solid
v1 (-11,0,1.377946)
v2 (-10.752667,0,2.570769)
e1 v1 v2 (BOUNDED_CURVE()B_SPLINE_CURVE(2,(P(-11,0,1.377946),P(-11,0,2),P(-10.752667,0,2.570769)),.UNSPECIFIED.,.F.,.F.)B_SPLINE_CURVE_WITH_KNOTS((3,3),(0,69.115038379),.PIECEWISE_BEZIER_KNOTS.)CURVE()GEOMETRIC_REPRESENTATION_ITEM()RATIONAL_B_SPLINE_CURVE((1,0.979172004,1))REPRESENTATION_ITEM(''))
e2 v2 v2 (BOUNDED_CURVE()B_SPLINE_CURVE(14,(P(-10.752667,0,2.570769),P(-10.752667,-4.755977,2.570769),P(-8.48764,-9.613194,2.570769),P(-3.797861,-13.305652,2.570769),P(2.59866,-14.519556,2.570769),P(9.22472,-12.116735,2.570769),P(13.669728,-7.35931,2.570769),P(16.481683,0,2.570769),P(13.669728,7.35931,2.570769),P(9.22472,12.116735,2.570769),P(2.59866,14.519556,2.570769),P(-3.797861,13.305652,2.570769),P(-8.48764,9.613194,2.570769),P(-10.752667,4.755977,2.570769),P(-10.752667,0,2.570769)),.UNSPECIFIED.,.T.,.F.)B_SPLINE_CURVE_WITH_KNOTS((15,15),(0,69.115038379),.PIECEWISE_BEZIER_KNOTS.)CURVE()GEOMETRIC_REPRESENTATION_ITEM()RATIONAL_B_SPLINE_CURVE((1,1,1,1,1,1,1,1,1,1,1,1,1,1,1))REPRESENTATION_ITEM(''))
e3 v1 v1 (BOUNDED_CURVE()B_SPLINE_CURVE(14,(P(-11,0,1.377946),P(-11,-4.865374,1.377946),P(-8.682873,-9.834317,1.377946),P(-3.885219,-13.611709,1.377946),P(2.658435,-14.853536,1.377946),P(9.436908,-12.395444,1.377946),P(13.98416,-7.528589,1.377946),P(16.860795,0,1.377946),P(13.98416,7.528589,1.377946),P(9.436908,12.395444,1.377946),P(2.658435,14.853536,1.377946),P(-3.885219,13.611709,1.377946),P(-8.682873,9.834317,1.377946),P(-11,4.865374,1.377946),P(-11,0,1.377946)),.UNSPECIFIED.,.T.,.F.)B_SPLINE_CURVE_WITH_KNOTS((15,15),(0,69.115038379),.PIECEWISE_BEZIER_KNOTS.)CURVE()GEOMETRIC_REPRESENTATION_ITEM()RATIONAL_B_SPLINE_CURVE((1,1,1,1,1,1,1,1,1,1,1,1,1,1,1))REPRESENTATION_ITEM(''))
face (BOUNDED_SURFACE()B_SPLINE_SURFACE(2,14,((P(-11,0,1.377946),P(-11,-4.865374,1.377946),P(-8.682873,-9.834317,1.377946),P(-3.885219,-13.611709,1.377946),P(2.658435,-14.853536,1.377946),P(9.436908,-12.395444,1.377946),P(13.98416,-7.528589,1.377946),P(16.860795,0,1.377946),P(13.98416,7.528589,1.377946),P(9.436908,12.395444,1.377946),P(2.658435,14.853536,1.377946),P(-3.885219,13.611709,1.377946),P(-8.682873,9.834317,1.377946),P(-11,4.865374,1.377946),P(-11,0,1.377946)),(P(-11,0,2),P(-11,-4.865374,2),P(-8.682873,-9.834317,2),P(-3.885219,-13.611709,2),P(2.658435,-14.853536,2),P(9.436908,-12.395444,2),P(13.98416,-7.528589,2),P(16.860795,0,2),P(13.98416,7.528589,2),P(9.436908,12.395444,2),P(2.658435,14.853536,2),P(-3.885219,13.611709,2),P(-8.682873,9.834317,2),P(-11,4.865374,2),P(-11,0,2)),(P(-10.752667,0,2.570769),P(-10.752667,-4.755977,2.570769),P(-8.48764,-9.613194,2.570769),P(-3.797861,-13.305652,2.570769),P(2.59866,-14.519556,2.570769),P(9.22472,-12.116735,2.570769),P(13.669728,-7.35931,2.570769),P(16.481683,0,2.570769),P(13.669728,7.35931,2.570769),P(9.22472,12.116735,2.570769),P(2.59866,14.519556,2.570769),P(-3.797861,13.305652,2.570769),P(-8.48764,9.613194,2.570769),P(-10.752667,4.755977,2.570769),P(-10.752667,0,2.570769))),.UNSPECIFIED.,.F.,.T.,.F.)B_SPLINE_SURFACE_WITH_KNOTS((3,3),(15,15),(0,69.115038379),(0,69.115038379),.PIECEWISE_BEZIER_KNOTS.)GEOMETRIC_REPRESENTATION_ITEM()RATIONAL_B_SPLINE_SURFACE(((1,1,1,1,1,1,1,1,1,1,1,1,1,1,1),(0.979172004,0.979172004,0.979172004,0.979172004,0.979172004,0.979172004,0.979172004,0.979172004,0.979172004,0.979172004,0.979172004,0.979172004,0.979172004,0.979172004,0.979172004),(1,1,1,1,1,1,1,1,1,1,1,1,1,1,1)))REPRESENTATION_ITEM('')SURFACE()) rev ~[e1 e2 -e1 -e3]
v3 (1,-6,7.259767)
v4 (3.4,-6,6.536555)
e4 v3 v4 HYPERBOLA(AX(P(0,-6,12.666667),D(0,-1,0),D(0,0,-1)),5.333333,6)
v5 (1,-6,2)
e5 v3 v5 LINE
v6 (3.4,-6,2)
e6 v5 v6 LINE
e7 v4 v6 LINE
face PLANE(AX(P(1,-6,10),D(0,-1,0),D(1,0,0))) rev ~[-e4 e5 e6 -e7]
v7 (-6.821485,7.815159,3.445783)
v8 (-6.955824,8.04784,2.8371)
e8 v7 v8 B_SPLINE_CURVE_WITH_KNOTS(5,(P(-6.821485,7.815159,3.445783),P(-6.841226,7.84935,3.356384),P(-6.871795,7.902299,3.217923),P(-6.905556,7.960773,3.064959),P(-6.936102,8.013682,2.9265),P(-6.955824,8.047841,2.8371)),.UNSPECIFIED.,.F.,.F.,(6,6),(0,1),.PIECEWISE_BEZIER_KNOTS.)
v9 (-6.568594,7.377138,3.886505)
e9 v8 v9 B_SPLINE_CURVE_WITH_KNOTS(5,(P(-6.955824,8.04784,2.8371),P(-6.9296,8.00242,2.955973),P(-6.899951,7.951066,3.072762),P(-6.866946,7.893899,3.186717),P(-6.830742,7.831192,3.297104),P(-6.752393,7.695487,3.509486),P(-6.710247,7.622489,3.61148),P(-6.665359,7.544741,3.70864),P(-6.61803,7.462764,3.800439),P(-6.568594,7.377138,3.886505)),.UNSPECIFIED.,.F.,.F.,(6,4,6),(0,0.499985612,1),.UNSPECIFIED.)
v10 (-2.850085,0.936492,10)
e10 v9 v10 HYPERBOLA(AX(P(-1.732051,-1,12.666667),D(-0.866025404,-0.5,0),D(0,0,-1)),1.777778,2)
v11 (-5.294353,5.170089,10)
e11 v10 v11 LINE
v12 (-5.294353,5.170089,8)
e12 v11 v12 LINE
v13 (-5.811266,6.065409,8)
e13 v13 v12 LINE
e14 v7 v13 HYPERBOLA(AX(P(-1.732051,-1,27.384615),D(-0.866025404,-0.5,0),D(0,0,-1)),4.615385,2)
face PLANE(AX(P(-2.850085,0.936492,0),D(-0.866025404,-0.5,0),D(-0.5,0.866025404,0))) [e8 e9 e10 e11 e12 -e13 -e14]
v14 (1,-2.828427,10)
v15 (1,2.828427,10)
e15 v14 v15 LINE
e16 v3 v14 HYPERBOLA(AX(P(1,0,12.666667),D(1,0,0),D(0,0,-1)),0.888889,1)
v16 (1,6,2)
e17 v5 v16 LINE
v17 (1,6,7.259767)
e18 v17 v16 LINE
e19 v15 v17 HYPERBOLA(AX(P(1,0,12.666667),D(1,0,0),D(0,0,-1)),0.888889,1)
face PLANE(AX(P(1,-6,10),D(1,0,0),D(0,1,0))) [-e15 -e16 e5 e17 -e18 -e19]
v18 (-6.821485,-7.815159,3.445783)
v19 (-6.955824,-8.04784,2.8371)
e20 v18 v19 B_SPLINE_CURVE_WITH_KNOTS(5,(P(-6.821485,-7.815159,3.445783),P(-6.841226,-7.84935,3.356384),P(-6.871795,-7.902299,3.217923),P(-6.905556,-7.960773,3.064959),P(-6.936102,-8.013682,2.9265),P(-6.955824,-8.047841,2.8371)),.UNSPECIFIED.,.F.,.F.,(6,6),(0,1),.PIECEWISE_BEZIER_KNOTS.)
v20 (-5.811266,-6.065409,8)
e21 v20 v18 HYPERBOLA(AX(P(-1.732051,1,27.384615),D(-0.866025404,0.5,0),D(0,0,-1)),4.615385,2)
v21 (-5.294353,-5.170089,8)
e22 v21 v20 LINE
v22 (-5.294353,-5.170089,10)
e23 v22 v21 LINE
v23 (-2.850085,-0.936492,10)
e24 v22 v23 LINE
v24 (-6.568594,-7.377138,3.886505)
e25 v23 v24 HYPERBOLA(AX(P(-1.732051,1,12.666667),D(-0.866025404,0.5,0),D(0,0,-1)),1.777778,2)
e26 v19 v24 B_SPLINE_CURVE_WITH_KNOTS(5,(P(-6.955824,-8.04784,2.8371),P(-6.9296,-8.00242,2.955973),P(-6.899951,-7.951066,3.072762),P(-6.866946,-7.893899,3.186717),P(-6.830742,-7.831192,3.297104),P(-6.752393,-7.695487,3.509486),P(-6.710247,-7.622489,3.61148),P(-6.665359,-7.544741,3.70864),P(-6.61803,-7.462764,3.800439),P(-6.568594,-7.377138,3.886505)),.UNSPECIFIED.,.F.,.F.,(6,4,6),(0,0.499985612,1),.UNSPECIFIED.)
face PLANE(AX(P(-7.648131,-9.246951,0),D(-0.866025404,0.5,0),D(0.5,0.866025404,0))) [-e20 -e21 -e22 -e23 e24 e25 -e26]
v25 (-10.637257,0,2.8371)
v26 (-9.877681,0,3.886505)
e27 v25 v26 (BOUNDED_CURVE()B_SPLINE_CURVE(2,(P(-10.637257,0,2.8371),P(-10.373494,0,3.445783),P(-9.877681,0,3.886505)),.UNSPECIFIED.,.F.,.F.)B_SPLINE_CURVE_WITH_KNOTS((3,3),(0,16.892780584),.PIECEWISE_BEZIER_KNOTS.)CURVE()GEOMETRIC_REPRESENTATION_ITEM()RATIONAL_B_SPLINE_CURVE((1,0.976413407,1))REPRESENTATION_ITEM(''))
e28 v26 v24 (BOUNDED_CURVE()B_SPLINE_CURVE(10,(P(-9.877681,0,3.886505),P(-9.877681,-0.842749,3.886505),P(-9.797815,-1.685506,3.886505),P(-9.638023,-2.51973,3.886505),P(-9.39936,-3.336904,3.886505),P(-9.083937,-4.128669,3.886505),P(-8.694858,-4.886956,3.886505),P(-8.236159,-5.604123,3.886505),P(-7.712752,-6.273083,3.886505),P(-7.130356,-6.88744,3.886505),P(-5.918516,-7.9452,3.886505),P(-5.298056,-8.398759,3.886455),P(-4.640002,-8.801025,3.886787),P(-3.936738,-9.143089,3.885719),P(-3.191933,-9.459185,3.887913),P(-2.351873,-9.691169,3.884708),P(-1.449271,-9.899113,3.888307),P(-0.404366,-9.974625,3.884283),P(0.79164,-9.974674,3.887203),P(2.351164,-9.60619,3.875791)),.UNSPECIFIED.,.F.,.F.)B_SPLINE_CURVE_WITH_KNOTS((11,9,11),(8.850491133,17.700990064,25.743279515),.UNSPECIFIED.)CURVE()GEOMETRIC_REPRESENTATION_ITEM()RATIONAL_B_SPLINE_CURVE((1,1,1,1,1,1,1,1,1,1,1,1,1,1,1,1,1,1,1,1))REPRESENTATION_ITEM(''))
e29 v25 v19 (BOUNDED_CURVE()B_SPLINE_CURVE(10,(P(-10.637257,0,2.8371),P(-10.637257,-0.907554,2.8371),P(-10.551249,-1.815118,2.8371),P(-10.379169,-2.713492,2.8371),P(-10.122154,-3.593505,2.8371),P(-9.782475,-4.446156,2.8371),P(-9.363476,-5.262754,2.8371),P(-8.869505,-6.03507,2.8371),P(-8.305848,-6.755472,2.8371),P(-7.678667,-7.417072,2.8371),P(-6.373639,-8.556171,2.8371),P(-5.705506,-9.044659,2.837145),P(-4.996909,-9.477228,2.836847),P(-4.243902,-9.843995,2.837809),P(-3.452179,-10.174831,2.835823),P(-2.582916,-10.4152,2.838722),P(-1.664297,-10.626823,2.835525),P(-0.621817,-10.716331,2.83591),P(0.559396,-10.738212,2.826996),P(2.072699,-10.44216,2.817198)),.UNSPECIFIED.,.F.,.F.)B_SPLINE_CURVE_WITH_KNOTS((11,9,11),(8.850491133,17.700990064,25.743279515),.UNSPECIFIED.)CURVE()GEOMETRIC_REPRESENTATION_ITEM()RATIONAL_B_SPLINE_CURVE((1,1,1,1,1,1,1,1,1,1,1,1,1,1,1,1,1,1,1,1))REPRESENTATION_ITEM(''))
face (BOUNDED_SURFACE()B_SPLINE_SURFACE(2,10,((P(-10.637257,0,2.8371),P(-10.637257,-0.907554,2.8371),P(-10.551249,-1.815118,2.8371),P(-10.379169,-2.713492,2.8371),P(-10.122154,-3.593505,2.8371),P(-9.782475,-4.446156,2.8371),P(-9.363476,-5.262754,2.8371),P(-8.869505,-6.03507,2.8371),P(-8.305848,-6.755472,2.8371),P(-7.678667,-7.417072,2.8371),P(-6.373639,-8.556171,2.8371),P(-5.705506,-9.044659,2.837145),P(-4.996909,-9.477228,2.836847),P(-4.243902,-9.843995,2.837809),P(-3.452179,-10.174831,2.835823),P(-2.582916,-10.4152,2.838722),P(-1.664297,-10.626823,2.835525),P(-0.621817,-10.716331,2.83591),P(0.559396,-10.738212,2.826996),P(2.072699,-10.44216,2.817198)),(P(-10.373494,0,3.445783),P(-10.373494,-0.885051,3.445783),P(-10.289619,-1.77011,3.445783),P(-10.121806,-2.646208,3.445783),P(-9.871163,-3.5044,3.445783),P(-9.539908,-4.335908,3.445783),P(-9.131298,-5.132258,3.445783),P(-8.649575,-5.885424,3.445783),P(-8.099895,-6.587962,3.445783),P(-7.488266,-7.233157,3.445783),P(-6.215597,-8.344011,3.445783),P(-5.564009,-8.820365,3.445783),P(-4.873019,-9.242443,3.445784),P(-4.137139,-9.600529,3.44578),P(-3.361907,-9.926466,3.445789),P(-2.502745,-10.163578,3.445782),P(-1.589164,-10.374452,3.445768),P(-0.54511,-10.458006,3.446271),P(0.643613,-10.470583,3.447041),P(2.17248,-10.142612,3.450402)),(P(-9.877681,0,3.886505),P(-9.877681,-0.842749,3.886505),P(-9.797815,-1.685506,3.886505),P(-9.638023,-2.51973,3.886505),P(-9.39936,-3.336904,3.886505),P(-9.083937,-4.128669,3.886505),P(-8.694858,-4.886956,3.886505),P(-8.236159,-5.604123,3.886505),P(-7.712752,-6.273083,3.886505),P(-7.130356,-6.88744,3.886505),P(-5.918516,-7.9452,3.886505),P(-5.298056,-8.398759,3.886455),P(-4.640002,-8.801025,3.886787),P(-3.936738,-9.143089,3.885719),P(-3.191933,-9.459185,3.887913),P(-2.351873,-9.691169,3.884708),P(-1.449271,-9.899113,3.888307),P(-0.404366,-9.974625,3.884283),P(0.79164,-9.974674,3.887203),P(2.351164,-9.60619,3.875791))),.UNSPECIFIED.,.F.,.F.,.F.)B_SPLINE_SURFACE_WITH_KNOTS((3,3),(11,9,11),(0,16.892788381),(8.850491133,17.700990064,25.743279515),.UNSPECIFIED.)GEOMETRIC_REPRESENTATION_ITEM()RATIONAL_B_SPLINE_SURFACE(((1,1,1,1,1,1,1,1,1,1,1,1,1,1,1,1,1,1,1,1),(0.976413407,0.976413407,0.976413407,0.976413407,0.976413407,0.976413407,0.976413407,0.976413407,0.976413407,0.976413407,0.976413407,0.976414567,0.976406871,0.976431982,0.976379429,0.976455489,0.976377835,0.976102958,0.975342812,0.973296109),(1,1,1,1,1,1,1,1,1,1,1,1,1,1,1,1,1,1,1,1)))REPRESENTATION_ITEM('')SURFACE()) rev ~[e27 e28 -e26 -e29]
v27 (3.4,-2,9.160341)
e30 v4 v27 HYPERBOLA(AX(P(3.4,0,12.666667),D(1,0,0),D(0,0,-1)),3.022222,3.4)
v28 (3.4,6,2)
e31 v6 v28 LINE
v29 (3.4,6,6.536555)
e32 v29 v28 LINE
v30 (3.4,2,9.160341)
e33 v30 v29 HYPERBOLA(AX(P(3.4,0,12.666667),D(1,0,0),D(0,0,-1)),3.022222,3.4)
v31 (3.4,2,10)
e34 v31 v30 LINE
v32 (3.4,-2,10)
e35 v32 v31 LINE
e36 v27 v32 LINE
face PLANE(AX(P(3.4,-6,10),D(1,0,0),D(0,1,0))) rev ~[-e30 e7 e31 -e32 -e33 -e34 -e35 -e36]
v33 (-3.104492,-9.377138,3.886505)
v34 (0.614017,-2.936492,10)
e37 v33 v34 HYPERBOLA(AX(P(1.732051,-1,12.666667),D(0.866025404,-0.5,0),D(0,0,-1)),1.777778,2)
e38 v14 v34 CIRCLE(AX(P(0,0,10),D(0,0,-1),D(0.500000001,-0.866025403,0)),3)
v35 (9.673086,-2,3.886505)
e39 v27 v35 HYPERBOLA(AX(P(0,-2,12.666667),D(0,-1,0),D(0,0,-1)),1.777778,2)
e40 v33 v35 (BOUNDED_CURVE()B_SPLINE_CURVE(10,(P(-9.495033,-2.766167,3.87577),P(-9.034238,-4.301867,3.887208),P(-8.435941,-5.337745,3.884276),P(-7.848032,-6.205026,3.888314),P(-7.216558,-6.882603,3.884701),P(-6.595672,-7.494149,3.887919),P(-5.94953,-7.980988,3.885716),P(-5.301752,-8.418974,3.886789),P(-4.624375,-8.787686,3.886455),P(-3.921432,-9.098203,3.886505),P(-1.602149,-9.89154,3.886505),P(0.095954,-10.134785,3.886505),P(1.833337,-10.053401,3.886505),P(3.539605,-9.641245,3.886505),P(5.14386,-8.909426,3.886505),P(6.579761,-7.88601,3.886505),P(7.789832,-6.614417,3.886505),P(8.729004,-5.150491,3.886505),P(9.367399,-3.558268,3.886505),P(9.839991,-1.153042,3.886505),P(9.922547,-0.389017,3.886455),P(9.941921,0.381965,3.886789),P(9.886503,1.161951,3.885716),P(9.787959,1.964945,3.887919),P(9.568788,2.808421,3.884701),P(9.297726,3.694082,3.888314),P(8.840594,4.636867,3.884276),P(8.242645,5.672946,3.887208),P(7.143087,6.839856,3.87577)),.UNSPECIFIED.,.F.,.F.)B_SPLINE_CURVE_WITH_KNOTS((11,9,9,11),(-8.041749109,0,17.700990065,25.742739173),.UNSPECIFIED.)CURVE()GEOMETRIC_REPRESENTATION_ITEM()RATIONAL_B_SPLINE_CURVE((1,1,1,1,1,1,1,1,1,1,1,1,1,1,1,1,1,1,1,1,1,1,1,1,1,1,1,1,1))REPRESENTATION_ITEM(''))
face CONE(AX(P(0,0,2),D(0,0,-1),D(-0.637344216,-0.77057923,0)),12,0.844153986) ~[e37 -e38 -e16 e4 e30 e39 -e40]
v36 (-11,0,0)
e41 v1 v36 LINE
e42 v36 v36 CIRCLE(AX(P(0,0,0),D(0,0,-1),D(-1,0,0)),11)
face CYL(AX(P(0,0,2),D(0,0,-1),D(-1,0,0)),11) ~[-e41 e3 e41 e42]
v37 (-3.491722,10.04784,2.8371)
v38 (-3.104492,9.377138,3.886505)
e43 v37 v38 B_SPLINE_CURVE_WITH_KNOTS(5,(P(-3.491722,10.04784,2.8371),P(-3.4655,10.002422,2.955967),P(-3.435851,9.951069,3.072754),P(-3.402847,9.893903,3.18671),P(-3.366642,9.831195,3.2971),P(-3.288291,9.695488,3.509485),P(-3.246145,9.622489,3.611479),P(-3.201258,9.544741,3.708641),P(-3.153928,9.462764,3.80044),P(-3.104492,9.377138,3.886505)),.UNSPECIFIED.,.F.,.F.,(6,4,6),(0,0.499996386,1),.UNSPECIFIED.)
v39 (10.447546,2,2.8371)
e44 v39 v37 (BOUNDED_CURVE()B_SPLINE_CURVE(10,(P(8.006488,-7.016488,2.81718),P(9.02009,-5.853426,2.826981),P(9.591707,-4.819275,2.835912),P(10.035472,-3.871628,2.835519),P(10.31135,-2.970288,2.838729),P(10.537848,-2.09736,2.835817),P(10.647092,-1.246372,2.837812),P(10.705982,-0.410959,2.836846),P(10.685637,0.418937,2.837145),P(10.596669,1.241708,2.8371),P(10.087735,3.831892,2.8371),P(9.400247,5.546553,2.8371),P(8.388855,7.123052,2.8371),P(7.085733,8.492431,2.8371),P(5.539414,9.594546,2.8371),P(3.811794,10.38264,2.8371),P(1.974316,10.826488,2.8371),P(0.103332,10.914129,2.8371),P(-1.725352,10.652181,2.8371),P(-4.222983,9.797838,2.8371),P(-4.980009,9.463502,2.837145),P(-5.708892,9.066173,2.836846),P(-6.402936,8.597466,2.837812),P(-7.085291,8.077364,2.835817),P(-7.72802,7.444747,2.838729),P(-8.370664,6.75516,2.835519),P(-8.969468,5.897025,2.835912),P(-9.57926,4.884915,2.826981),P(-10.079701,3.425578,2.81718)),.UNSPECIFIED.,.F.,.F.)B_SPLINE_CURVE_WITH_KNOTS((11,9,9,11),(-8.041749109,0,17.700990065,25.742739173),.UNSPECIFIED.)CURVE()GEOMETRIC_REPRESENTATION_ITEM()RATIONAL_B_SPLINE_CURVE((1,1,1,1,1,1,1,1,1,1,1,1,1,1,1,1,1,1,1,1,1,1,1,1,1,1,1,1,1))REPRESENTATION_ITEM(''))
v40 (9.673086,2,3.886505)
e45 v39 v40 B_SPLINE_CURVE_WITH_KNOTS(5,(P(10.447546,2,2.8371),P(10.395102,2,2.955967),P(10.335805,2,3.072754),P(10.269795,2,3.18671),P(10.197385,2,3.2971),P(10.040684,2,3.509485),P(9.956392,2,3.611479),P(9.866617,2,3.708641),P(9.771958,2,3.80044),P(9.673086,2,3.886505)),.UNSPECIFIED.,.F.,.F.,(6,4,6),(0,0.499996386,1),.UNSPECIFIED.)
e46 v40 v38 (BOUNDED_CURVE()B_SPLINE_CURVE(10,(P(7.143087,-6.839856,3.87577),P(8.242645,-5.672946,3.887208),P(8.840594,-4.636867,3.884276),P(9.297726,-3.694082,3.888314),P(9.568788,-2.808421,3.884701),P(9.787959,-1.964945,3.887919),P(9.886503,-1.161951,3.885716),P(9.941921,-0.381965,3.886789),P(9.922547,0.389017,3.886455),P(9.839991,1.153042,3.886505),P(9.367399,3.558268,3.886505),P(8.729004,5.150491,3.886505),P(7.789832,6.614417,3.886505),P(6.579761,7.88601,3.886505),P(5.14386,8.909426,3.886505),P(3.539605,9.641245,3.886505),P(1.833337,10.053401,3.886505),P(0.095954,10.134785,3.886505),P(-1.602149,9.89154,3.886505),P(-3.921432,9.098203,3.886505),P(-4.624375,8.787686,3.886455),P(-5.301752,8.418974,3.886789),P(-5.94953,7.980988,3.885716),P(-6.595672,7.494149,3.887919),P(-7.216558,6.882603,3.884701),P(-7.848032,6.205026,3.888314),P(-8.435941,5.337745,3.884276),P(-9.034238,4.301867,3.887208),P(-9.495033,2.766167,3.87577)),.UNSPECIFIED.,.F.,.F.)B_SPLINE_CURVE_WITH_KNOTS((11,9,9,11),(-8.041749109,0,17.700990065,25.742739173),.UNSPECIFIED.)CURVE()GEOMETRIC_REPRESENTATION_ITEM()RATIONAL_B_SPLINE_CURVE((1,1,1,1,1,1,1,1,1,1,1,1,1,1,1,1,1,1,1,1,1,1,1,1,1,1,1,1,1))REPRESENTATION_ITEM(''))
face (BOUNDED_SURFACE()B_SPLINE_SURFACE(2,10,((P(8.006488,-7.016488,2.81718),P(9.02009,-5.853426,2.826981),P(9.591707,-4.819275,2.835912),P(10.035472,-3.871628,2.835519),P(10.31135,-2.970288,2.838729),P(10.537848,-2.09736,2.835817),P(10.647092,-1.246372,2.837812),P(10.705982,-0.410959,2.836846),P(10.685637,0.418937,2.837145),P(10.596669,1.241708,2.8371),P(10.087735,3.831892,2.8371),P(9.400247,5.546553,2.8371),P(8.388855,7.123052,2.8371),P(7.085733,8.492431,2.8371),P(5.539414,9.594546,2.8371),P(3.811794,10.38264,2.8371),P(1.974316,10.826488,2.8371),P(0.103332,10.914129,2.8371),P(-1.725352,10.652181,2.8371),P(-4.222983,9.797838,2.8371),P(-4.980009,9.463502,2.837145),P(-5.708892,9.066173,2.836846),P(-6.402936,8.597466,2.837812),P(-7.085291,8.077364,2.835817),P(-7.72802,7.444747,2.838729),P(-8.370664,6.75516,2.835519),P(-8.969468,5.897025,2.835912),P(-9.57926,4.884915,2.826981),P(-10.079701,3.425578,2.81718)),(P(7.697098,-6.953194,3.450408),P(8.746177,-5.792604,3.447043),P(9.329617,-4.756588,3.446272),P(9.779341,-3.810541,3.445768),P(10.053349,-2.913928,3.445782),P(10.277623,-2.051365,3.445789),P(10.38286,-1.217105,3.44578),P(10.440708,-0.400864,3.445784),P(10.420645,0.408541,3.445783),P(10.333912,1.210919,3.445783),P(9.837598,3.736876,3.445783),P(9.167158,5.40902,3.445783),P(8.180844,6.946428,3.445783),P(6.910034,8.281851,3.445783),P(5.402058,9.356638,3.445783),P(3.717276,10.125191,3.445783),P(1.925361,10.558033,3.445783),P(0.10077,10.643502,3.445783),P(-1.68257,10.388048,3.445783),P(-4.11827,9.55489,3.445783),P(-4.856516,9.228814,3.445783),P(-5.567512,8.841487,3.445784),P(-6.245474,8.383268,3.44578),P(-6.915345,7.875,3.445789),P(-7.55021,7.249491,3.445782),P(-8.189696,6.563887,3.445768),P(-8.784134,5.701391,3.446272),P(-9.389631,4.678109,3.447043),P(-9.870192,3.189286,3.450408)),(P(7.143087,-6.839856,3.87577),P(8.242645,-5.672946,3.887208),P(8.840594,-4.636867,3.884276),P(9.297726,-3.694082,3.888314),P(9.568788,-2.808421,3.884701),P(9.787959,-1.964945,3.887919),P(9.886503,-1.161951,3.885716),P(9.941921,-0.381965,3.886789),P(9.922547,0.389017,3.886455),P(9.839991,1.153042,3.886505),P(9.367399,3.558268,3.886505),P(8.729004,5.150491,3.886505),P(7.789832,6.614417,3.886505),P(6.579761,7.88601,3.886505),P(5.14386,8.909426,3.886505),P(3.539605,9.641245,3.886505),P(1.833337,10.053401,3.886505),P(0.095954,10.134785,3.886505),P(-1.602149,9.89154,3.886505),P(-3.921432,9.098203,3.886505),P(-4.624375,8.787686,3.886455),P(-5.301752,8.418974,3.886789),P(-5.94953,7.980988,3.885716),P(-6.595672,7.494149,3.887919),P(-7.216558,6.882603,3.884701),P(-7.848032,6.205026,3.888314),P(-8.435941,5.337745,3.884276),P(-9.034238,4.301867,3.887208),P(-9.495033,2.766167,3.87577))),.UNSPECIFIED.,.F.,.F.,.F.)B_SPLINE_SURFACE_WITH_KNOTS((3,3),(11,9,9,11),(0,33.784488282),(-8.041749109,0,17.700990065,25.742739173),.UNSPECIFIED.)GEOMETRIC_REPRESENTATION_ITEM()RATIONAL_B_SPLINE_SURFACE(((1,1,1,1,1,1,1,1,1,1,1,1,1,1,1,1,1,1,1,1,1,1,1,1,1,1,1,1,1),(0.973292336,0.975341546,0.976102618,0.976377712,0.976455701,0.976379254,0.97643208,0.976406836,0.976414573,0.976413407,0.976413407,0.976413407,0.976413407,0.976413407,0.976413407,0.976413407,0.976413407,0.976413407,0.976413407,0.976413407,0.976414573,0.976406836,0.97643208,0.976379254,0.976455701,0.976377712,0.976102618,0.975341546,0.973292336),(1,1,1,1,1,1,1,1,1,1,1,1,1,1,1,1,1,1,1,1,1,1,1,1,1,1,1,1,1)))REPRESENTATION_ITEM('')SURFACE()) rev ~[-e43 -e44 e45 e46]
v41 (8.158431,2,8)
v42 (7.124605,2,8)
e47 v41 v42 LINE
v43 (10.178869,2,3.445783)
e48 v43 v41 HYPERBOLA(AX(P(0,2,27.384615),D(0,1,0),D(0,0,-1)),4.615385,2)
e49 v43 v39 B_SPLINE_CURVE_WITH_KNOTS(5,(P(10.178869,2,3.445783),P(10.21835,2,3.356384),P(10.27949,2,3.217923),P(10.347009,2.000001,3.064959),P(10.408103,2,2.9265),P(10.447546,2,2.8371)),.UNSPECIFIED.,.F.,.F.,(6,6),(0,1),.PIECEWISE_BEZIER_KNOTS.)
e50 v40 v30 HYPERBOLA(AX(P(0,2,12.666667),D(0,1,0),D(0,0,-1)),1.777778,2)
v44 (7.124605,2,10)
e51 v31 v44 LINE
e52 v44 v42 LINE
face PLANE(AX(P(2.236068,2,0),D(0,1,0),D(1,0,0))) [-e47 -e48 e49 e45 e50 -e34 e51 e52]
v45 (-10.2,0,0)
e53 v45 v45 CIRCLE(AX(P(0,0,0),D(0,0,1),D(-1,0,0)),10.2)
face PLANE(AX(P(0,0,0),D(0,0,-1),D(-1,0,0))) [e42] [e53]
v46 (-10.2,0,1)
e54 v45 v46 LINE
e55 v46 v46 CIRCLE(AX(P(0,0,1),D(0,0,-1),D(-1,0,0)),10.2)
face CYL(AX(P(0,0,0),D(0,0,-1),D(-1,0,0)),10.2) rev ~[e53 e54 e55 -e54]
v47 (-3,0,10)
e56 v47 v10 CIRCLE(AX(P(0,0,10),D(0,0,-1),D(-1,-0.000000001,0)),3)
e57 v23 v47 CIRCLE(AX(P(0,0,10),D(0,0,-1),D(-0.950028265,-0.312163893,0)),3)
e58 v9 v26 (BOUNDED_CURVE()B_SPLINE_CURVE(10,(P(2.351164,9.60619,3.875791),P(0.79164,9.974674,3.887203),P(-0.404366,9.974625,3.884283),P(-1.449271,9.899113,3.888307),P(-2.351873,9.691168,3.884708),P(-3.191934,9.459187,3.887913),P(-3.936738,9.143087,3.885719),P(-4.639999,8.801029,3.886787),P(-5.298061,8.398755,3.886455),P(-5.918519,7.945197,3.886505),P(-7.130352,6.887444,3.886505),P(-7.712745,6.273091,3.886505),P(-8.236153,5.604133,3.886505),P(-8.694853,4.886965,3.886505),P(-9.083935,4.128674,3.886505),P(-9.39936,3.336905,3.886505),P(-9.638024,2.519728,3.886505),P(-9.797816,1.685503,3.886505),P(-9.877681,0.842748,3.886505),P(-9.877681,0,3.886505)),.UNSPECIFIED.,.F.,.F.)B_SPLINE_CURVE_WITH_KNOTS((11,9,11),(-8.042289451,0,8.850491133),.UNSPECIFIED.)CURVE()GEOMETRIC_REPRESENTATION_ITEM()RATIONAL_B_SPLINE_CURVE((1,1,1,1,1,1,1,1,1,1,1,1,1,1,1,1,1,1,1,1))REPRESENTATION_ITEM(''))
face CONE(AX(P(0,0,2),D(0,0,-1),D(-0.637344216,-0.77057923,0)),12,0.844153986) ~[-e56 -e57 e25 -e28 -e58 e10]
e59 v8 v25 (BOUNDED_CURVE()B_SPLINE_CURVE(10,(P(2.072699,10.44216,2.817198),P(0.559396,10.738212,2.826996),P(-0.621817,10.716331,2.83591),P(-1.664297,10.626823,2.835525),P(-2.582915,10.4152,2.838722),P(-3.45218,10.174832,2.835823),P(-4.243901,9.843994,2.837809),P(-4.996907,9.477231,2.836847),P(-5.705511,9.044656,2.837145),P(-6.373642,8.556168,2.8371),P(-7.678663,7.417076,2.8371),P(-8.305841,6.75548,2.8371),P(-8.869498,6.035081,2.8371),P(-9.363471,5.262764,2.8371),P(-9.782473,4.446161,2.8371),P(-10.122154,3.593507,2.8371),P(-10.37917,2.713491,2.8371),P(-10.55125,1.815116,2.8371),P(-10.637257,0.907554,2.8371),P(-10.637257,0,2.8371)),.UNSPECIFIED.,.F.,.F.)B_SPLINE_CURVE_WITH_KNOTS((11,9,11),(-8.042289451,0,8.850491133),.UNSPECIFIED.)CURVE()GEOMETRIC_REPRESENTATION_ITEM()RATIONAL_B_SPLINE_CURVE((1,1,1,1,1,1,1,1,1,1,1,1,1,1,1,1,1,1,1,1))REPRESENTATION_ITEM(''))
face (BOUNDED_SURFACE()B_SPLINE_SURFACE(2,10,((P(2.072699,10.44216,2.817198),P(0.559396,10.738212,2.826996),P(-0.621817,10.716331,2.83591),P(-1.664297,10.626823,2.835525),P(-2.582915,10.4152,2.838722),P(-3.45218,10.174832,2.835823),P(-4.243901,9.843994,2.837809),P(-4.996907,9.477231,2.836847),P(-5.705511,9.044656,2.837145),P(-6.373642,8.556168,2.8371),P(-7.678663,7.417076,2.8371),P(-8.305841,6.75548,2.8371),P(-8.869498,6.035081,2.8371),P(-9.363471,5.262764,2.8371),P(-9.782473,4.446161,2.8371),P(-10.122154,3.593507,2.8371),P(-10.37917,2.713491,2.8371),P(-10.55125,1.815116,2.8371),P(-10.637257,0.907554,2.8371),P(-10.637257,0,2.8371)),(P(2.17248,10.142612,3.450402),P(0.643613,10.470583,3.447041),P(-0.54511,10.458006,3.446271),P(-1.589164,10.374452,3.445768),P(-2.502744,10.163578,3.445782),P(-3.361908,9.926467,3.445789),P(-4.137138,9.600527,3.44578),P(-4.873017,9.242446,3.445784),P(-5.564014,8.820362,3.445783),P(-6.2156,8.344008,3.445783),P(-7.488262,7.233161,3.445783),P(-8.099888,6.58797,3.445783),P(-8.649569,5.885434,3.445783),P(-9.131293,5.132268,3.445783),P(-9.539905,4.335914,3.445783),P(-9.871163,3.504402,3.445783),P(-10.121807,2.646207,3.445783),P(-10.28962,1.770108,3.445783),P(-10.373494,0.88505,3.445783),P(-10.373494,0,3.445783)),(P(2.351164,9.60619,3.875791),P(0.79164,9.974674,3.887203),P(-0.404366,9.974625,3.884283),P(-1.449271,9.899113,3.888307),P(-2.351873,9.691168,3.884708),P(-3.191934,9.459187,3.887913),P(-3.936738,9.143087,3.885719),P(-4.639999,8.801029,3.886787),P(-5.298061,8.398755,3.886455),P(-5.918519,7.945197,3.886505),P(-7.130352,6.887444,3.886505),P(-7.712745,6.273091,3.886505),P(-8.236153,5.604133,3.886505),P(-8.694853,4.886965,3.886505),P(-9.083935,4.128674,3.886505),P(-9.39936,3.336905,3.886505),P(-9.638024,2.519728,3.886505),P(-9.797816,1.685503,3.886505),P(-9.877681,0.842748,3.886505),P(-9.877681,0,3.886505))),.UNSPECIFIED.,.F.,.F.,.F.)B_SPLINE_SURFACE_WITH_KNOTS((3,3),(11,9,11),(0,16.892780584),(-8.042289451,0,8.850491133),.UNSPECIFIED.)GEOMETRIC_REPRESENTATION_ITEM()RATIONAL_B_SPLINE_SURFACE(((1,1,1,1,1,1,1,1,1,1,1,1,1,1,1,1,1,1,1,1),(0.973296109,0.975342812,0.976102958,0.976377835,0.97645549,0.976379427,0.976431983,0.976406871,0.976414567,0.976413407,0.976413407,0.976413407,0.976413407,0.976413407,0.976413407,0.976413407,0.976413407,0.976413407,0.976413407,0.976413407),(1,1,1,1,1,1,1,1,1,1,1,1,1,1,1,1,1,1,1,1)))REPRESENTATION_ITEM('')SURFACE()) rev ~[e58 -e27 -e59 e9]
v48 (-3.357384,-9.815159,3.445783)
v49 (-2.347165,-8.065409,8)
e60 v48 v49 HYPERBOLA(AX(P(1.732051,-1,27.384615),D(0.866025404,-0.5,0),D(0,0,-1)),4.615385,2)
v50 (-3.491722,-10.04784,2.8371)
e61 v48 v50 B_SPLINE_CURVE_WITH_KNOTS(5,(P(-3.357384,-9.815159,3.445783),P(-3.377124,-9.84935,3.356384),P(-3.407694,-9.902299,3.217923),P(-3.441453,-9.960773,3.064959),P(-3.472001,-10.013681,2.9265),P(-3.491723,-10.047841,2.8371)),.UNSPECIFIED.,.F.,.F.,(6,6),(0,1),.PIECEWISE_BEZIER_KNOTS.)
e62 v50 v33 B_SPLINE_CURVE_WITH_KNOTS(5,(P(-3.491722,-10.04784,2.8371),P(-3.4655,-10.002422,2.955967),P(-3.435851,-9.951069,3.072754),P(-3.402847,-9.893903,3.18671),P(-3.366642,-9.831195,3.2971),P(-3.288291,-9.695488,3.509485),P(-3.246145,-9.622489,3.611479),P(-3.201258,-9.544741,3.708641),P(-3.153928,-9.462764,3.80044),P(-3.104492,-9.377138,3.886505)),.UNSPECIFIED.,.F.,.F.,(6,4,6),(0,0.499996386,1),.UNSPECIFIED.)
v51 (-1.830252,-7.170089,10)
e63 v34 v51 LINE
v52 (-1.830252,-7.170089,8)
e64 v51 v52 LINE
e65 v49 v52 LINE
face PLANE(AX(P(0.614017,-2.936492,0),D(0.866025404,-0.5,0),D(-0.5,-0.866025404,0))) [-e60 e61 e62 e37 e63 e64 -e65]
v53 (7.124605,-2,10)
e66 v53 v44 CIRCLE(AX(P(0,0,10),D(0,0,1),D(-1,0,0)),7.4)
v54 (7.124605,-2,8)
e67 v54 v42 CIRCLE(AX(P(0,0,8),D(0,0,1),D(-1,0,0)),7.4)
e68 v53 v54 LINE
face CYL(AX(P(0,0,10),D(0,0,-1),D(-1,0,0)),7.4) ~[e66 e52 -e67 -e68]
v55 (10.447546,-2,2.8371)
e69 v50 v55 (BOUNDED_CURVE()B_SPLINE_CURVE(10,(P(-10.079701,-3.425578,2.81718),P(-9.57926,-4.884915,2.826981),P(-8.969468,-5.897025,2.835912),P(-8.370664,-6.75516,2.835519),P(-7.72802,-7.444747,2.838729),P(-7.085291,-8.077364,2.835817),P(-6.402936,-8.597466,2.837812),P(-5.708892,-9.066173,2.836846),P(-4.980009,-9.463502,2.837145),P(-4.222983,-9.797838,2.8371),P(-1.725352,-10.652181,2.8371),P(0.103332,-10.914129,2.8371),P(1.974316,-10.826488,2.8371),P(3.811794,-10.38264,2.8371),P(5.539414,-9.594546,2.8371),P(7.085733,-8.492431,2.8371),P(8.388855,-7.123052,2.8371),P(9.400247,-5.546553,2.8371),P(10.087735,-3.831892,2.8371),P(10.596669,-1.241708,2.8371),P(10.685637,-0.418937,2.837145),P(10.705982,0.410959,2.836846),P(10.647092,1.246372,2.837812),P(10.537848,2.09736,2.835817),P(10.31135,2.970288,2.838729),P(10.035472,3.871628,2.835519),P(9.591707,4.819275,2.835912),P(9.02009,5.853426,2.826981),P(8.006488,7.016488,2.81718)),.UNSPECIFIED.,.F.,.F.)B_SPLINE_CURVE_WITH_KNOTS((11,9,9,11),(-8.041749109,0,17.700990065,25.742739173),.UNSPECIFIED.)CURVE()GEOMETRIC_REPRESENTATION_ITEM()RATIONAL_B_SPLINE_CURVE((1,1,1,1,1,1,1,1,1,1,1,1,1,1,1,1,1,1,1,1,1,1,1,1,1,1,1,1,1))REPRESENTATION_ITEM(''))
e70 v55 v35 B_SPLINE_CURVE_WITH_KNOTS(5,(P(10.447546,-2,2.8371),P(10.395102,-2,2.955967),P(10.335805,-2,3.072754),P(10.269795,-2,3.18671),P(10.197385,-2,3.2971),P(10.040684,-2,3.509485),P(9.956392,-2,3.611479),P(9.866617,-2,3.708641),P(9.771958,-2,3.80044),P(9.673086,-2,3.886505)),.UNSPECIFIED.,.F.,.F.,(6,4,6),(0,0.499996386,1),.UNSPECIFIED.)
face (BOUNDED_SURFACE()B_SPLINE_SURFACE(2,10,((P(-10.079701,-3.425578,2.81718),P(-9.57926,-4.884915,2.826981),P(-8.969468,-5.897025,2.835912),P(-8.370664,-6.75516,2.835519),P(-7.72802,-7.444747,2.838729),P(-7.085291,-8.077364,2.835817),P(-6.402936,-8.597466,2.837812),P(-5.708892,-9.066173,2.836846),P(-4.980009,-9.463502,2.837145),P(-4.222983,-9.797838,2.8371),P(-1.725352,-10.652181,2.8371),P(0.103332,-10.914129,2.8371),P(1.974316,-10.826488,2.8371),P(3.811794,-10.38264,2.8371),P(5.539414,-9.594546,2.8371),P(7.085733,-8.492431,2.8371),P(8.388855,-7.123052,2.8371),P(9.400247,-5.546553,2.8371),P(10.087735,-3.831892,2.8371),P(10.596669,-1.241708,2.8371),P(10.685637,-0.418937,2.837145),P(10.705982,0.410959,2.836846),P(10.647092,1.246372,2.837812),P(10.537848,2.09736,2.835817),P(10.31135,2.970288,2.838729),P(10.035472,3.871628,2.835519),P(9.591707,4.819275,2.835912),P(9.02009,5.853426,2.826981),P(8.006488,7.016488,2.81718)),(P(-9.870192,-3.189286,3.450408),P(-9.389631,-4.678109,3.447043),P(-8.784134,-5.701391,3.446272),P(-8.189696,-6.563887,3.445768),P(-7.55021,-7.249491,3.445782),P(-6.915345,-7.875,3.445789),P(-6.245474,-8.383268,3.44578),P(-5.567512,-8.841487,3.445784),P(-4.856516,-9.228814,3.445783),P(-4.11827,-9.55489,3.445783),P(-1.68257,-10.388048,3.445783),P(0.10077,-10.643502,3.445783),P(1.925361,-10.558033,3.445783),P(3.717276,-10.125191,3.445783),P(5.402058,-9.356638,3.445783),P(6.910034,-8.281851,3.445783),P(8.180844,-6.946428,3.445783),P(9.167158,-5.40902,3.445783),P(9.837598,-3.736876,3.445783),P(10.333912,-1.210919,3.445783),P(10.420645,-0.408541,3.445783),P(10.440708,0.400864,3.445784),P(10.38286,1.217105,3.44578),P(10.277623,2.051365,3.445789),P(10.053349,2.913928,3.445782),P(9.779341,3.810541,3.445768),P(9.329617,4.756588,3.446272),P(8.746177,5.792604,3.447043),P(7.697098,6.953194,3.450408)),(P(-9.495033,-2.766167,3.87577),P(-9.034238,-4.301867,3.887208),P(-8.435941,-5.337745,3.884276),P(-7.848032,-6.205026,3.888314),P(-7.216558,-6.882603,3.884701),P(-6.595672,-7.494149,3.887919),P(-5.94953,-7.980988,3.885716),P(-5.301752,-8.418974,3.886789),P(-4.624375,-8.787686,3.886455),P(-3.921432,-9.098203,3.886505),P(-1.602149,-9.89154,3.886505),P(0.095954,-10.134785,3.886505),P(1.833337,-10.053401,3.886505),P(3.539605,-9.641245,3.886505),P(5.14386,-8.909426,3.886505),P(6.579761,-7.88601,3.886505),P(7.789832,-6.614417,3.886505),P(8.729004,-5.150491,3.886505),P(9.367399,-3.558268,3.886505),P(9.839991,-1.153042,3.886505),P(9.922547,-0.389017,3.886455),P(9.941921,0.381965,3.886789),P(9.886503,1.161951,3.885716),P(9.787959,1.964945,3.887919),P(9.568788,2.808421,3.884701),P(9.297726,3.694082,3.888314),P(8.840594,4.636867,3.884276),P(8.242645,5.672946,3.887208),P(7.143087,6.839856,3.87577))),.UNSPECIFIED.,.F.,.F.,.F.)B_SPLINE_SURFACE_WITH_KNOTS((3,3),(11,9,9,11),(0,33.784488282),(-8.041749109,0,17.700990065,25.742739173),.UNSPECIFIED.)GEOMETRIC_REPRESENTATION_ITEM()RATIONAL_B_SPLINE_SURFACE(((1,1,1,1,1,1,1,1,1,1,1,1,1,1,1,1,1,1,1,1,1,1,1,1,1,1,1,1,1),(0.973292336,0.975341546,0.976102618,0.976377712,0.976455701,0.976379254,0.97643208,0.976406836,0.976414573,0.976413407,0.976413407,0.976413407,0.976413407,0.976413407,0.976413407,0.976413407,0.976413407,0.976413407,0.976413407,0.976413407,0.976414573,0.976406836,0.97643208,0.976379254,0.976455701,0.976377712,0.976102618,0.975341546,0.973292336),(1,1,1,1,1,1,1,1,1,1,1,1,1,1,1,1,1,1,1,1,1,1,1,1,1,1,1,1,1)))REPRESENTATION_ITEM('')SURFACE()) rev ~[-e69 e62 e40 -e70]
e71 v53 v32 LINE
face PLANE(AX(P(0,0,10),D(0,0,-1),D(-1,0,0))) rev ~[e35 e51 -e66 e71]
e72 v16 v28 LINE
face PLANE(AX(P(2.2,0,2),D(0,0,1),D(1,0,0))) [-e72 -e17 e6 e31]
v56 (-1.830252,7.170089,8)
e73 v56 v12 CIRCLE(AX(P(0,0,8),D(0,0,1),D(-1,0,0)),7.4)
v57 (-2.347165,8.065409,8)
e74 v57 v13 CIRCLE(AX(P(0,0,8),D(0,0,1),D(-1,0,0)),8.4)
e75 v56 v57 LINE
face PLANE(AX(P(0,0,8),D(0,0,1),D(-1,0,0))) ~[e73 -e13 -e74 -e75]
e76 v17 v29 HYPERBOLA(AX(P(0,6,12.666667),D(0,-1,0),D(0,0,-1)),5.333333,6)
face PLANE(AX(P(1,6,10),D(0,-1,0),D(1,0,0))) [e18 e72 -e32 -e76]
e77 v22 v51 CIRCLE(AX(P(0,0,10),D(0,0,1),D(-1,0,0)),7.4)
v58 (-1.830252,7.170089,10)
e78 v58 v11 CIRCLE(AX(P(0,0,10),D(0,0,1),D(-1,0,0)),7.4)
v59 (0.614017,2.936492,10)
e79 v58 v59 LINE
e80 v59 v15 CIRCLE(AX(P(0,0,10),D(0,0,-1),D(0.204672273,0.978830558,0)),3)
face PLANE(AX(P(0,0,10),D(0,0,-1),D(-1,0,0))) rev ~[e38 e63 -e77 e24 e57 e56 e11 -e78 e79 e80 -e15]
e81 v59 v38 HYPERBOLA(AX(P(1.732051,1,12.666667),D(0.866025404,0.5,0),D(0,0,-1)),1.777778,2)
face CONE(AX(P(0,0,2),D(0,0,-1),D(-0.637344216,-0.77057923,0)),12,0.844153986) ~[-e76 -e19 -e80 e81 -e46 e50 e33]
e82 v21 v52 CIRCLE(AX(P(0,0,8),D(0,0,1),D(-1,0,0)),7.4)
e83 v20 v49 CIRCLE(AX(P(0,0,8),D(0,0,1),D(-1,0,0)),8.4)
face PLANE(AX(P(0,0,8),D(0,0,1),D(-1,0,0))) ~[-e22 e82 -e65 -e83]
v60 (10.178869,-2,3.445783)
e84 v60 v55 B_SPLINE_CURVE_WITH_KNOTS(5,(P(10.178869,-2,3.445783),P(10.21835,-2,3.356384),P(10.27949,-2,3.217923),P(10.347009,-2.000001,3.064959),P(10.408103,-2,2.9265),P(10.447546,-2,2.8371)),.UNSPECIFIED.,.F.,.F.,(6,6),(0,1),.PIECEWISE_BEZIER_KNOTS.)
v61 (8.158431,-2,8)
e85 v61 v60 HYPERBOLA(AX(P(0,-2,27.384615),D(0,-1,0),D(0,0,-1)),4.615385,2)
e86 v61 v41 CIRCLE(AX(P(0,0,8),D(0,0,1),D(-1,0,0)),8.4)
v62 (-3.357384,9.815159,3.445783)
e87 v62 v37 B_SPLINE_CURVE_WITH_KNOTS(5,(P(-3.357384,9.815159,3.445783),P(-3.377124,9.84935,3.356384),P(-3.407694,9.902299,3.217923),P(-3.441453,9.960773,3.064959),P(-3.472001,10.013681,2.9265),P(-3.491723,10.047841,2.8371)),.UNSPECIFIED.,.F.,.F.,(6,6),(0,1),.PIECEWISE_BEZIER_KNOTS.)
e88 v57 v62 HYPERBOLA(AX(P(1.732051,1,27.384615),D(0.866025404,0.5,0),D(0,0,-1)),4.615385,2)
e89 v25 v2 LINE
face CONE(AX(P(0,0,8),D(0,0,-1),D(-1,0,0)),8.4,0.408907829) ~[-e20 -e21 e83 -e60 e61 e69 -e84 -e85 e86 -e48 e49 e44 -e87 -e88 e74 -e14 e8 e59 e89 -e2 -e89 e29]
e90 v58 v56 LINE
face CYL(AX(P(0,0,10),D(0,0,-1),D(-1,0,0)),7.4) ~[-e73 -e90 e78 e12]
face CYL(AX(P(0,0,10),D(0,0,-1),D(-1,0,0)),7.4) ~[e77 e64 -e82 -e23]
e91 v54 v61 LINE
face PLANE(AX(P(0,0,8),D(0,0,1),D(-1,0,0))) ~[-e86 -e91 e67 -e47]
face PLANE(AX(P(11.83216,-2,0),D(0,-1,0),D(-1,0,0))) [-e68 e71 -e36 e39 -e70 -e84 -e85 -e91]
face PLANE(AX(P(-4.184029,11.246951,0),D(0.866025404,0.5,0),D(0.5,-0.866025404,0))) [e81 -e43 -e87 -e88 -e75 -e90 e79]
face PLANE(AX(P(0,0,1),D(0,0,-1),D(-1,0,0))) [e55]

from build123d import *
from build123d.topology import SkipClean

# Parameters (mm, degrees)
BOSS_EXTRU_1_DEPTH      = 10
ESQUISSE5_R             = 10.2
ENL_V_MAT_EXTRU_1_DEPTH = 1
CONG_2_R                = 3
ESQUISSE7_W             = 2.4
ESQUISSE7_H             = 12
ENL_V_MAT_EXTRU_2_DEPTH = 8


with BuildPart() as part:
    # Esquisse1 → Boss.-Extru.1 (new body)
    with BuildSketch(Plane.XY):
        with BuildLine():
            ThreePointArc((0.614016819, 2.936491673), (1.070466269, 2.802517077), (1.5, 2.598076211))
            ThreePointArc((1.5, 2.598076211), (1.891817848, 2.328309522), (2.236067977, 2))
            Line((2.236067977, 2), (11.832159566, 2))
            ThreePointArc((11.832159566, 2), (12, 0), (11.832159566, -2))
            Line((11.832159566, -2), (2.236067977, -2))
            ThreePointArc((2.236067977, -2), (1.891817848, -2.328309522), (1.5, -2.598076211))
            ThreePointArc((1.5, -2.598076211), (1.070466269, -2.802517077), (0.614016819, -2.936491673))
            Line((0.614016819, -2.936491673), (-4.184028976, -11.246950766))
            ThreePointArc((-4.184028976, -11.246950766), (-6, -10.392304845), (-7.648130591, -9.246950766))
            Line((-7.648130591, -9.246950766), (-2.850084796, -0.936491673))
            ThreePointArc((-2.850084796, -0.936491673), (-2.962284118, -0.474207555), (-3, 0))
            ThreePointArc((-3, 0), (-2.962284118, 0.474207555), (-2.850084796, 0.936491673))
            Line((-2.850084796, 0.936491673), (-7.648130591, 9.246950766))
            ThreePointArc((-7.648130591, 9.246950766), (-6, 10.392304845), (-4.184028976, 11.246950766))
            Line((-4.184028976, 11.246950766), (0.614016819, 2.936491673))
        make_face()
    extrude(amount=BOSS_EXTRU_1_DEPTH)

    # Esquisse4 → Révolution1 (revolve)
    with SkipClean():  # the faces are left unmerged after this step: merging them gives an invalid solid
        with BuildSketch(Plane(origin=(0, 0, 0), x_dir=(1, 0, 0), z_dir=(0, 1, 0)), mode=Mode.PRIVATE) as r_volution1_sk:
            Polygon((3, -10), (0, -10), (0, 0), (12, 0), (12, -2), align=None)
        revolve(r_volution1_sk.sketch.rotate(Axis((0, 0, 10), (0, 0, -1)), 129.594068227), axis=Axis((0, 0, 10), (0, 0, -1)))

    # Esquisse5 → Enlèv. mat.-Extru.1 (cut)
    with SkipClean():  # the faces are left unmerged after this step: merging them gives an invalid solid
        with BuildSketch(Plane(origin=(0, 0, 0), x_dir=(-1, 0, 0), z_dir=(0, 0, -1))):
            Circle(ESQUISSE5_R)
        extrude(amount=-ENL_V_MAT_EXTRU_1_DEPTH, mode=Mode.SUBTRACT)

    # Esquisse6 → Enlèvement de matière-Révolution1 (revolve, cut)
    with BuildSketch(Plane(origin=(0, 0, 0), x_dir=(1, 0, 0), z_dir=(0, 1, 0)), mode=Mode.PRIVATE) as enl_vement_de_mati_re_r_volution1_sk:
        Polygon((11, 0), (15.480754368, 0), (15.480754368, -10), (7.75, -10), (7.4, -10), (7.4, -8), (8.4, -8), (11, -2), align=None)
    revolve(enl_vement_de_mati_re_r_volution1_sk.sketch.rotate(Axis((0, 0, 0), (0, 0, 1)), 180), axis=Axis((0, 0, 0), (0, 0, 1)), mode=Mode.SUBTRACT)

    # Congé2
    cong_2_edges = [part.edges().sort_by_distance(p)[0] for p in [
        (5.186746988, -8.983709309, 3.445783133),
        (-9.443834359, -4.292245317, 3.445783133),
        (5.186746988, 8.983709309, 3.445783133),
        (11, 0, 2),
    ]]
    fillet(cong_2_edges, radius=CONG_2_R)

    # Esquisse7 → Enlèv. mat.-Extru.2 (cut)
    with BuildSketch(Plane.XY.offset(10)):
        with Locations((2.2, 0)):
            Rectangle(ESQUISSE7_W, ESQUISSE7_H)
    extrude(amount=-ENL_V_MAT_EXTRU_2_DEPTH, mode=Mode.SUBTRACT)


solid = part.part
